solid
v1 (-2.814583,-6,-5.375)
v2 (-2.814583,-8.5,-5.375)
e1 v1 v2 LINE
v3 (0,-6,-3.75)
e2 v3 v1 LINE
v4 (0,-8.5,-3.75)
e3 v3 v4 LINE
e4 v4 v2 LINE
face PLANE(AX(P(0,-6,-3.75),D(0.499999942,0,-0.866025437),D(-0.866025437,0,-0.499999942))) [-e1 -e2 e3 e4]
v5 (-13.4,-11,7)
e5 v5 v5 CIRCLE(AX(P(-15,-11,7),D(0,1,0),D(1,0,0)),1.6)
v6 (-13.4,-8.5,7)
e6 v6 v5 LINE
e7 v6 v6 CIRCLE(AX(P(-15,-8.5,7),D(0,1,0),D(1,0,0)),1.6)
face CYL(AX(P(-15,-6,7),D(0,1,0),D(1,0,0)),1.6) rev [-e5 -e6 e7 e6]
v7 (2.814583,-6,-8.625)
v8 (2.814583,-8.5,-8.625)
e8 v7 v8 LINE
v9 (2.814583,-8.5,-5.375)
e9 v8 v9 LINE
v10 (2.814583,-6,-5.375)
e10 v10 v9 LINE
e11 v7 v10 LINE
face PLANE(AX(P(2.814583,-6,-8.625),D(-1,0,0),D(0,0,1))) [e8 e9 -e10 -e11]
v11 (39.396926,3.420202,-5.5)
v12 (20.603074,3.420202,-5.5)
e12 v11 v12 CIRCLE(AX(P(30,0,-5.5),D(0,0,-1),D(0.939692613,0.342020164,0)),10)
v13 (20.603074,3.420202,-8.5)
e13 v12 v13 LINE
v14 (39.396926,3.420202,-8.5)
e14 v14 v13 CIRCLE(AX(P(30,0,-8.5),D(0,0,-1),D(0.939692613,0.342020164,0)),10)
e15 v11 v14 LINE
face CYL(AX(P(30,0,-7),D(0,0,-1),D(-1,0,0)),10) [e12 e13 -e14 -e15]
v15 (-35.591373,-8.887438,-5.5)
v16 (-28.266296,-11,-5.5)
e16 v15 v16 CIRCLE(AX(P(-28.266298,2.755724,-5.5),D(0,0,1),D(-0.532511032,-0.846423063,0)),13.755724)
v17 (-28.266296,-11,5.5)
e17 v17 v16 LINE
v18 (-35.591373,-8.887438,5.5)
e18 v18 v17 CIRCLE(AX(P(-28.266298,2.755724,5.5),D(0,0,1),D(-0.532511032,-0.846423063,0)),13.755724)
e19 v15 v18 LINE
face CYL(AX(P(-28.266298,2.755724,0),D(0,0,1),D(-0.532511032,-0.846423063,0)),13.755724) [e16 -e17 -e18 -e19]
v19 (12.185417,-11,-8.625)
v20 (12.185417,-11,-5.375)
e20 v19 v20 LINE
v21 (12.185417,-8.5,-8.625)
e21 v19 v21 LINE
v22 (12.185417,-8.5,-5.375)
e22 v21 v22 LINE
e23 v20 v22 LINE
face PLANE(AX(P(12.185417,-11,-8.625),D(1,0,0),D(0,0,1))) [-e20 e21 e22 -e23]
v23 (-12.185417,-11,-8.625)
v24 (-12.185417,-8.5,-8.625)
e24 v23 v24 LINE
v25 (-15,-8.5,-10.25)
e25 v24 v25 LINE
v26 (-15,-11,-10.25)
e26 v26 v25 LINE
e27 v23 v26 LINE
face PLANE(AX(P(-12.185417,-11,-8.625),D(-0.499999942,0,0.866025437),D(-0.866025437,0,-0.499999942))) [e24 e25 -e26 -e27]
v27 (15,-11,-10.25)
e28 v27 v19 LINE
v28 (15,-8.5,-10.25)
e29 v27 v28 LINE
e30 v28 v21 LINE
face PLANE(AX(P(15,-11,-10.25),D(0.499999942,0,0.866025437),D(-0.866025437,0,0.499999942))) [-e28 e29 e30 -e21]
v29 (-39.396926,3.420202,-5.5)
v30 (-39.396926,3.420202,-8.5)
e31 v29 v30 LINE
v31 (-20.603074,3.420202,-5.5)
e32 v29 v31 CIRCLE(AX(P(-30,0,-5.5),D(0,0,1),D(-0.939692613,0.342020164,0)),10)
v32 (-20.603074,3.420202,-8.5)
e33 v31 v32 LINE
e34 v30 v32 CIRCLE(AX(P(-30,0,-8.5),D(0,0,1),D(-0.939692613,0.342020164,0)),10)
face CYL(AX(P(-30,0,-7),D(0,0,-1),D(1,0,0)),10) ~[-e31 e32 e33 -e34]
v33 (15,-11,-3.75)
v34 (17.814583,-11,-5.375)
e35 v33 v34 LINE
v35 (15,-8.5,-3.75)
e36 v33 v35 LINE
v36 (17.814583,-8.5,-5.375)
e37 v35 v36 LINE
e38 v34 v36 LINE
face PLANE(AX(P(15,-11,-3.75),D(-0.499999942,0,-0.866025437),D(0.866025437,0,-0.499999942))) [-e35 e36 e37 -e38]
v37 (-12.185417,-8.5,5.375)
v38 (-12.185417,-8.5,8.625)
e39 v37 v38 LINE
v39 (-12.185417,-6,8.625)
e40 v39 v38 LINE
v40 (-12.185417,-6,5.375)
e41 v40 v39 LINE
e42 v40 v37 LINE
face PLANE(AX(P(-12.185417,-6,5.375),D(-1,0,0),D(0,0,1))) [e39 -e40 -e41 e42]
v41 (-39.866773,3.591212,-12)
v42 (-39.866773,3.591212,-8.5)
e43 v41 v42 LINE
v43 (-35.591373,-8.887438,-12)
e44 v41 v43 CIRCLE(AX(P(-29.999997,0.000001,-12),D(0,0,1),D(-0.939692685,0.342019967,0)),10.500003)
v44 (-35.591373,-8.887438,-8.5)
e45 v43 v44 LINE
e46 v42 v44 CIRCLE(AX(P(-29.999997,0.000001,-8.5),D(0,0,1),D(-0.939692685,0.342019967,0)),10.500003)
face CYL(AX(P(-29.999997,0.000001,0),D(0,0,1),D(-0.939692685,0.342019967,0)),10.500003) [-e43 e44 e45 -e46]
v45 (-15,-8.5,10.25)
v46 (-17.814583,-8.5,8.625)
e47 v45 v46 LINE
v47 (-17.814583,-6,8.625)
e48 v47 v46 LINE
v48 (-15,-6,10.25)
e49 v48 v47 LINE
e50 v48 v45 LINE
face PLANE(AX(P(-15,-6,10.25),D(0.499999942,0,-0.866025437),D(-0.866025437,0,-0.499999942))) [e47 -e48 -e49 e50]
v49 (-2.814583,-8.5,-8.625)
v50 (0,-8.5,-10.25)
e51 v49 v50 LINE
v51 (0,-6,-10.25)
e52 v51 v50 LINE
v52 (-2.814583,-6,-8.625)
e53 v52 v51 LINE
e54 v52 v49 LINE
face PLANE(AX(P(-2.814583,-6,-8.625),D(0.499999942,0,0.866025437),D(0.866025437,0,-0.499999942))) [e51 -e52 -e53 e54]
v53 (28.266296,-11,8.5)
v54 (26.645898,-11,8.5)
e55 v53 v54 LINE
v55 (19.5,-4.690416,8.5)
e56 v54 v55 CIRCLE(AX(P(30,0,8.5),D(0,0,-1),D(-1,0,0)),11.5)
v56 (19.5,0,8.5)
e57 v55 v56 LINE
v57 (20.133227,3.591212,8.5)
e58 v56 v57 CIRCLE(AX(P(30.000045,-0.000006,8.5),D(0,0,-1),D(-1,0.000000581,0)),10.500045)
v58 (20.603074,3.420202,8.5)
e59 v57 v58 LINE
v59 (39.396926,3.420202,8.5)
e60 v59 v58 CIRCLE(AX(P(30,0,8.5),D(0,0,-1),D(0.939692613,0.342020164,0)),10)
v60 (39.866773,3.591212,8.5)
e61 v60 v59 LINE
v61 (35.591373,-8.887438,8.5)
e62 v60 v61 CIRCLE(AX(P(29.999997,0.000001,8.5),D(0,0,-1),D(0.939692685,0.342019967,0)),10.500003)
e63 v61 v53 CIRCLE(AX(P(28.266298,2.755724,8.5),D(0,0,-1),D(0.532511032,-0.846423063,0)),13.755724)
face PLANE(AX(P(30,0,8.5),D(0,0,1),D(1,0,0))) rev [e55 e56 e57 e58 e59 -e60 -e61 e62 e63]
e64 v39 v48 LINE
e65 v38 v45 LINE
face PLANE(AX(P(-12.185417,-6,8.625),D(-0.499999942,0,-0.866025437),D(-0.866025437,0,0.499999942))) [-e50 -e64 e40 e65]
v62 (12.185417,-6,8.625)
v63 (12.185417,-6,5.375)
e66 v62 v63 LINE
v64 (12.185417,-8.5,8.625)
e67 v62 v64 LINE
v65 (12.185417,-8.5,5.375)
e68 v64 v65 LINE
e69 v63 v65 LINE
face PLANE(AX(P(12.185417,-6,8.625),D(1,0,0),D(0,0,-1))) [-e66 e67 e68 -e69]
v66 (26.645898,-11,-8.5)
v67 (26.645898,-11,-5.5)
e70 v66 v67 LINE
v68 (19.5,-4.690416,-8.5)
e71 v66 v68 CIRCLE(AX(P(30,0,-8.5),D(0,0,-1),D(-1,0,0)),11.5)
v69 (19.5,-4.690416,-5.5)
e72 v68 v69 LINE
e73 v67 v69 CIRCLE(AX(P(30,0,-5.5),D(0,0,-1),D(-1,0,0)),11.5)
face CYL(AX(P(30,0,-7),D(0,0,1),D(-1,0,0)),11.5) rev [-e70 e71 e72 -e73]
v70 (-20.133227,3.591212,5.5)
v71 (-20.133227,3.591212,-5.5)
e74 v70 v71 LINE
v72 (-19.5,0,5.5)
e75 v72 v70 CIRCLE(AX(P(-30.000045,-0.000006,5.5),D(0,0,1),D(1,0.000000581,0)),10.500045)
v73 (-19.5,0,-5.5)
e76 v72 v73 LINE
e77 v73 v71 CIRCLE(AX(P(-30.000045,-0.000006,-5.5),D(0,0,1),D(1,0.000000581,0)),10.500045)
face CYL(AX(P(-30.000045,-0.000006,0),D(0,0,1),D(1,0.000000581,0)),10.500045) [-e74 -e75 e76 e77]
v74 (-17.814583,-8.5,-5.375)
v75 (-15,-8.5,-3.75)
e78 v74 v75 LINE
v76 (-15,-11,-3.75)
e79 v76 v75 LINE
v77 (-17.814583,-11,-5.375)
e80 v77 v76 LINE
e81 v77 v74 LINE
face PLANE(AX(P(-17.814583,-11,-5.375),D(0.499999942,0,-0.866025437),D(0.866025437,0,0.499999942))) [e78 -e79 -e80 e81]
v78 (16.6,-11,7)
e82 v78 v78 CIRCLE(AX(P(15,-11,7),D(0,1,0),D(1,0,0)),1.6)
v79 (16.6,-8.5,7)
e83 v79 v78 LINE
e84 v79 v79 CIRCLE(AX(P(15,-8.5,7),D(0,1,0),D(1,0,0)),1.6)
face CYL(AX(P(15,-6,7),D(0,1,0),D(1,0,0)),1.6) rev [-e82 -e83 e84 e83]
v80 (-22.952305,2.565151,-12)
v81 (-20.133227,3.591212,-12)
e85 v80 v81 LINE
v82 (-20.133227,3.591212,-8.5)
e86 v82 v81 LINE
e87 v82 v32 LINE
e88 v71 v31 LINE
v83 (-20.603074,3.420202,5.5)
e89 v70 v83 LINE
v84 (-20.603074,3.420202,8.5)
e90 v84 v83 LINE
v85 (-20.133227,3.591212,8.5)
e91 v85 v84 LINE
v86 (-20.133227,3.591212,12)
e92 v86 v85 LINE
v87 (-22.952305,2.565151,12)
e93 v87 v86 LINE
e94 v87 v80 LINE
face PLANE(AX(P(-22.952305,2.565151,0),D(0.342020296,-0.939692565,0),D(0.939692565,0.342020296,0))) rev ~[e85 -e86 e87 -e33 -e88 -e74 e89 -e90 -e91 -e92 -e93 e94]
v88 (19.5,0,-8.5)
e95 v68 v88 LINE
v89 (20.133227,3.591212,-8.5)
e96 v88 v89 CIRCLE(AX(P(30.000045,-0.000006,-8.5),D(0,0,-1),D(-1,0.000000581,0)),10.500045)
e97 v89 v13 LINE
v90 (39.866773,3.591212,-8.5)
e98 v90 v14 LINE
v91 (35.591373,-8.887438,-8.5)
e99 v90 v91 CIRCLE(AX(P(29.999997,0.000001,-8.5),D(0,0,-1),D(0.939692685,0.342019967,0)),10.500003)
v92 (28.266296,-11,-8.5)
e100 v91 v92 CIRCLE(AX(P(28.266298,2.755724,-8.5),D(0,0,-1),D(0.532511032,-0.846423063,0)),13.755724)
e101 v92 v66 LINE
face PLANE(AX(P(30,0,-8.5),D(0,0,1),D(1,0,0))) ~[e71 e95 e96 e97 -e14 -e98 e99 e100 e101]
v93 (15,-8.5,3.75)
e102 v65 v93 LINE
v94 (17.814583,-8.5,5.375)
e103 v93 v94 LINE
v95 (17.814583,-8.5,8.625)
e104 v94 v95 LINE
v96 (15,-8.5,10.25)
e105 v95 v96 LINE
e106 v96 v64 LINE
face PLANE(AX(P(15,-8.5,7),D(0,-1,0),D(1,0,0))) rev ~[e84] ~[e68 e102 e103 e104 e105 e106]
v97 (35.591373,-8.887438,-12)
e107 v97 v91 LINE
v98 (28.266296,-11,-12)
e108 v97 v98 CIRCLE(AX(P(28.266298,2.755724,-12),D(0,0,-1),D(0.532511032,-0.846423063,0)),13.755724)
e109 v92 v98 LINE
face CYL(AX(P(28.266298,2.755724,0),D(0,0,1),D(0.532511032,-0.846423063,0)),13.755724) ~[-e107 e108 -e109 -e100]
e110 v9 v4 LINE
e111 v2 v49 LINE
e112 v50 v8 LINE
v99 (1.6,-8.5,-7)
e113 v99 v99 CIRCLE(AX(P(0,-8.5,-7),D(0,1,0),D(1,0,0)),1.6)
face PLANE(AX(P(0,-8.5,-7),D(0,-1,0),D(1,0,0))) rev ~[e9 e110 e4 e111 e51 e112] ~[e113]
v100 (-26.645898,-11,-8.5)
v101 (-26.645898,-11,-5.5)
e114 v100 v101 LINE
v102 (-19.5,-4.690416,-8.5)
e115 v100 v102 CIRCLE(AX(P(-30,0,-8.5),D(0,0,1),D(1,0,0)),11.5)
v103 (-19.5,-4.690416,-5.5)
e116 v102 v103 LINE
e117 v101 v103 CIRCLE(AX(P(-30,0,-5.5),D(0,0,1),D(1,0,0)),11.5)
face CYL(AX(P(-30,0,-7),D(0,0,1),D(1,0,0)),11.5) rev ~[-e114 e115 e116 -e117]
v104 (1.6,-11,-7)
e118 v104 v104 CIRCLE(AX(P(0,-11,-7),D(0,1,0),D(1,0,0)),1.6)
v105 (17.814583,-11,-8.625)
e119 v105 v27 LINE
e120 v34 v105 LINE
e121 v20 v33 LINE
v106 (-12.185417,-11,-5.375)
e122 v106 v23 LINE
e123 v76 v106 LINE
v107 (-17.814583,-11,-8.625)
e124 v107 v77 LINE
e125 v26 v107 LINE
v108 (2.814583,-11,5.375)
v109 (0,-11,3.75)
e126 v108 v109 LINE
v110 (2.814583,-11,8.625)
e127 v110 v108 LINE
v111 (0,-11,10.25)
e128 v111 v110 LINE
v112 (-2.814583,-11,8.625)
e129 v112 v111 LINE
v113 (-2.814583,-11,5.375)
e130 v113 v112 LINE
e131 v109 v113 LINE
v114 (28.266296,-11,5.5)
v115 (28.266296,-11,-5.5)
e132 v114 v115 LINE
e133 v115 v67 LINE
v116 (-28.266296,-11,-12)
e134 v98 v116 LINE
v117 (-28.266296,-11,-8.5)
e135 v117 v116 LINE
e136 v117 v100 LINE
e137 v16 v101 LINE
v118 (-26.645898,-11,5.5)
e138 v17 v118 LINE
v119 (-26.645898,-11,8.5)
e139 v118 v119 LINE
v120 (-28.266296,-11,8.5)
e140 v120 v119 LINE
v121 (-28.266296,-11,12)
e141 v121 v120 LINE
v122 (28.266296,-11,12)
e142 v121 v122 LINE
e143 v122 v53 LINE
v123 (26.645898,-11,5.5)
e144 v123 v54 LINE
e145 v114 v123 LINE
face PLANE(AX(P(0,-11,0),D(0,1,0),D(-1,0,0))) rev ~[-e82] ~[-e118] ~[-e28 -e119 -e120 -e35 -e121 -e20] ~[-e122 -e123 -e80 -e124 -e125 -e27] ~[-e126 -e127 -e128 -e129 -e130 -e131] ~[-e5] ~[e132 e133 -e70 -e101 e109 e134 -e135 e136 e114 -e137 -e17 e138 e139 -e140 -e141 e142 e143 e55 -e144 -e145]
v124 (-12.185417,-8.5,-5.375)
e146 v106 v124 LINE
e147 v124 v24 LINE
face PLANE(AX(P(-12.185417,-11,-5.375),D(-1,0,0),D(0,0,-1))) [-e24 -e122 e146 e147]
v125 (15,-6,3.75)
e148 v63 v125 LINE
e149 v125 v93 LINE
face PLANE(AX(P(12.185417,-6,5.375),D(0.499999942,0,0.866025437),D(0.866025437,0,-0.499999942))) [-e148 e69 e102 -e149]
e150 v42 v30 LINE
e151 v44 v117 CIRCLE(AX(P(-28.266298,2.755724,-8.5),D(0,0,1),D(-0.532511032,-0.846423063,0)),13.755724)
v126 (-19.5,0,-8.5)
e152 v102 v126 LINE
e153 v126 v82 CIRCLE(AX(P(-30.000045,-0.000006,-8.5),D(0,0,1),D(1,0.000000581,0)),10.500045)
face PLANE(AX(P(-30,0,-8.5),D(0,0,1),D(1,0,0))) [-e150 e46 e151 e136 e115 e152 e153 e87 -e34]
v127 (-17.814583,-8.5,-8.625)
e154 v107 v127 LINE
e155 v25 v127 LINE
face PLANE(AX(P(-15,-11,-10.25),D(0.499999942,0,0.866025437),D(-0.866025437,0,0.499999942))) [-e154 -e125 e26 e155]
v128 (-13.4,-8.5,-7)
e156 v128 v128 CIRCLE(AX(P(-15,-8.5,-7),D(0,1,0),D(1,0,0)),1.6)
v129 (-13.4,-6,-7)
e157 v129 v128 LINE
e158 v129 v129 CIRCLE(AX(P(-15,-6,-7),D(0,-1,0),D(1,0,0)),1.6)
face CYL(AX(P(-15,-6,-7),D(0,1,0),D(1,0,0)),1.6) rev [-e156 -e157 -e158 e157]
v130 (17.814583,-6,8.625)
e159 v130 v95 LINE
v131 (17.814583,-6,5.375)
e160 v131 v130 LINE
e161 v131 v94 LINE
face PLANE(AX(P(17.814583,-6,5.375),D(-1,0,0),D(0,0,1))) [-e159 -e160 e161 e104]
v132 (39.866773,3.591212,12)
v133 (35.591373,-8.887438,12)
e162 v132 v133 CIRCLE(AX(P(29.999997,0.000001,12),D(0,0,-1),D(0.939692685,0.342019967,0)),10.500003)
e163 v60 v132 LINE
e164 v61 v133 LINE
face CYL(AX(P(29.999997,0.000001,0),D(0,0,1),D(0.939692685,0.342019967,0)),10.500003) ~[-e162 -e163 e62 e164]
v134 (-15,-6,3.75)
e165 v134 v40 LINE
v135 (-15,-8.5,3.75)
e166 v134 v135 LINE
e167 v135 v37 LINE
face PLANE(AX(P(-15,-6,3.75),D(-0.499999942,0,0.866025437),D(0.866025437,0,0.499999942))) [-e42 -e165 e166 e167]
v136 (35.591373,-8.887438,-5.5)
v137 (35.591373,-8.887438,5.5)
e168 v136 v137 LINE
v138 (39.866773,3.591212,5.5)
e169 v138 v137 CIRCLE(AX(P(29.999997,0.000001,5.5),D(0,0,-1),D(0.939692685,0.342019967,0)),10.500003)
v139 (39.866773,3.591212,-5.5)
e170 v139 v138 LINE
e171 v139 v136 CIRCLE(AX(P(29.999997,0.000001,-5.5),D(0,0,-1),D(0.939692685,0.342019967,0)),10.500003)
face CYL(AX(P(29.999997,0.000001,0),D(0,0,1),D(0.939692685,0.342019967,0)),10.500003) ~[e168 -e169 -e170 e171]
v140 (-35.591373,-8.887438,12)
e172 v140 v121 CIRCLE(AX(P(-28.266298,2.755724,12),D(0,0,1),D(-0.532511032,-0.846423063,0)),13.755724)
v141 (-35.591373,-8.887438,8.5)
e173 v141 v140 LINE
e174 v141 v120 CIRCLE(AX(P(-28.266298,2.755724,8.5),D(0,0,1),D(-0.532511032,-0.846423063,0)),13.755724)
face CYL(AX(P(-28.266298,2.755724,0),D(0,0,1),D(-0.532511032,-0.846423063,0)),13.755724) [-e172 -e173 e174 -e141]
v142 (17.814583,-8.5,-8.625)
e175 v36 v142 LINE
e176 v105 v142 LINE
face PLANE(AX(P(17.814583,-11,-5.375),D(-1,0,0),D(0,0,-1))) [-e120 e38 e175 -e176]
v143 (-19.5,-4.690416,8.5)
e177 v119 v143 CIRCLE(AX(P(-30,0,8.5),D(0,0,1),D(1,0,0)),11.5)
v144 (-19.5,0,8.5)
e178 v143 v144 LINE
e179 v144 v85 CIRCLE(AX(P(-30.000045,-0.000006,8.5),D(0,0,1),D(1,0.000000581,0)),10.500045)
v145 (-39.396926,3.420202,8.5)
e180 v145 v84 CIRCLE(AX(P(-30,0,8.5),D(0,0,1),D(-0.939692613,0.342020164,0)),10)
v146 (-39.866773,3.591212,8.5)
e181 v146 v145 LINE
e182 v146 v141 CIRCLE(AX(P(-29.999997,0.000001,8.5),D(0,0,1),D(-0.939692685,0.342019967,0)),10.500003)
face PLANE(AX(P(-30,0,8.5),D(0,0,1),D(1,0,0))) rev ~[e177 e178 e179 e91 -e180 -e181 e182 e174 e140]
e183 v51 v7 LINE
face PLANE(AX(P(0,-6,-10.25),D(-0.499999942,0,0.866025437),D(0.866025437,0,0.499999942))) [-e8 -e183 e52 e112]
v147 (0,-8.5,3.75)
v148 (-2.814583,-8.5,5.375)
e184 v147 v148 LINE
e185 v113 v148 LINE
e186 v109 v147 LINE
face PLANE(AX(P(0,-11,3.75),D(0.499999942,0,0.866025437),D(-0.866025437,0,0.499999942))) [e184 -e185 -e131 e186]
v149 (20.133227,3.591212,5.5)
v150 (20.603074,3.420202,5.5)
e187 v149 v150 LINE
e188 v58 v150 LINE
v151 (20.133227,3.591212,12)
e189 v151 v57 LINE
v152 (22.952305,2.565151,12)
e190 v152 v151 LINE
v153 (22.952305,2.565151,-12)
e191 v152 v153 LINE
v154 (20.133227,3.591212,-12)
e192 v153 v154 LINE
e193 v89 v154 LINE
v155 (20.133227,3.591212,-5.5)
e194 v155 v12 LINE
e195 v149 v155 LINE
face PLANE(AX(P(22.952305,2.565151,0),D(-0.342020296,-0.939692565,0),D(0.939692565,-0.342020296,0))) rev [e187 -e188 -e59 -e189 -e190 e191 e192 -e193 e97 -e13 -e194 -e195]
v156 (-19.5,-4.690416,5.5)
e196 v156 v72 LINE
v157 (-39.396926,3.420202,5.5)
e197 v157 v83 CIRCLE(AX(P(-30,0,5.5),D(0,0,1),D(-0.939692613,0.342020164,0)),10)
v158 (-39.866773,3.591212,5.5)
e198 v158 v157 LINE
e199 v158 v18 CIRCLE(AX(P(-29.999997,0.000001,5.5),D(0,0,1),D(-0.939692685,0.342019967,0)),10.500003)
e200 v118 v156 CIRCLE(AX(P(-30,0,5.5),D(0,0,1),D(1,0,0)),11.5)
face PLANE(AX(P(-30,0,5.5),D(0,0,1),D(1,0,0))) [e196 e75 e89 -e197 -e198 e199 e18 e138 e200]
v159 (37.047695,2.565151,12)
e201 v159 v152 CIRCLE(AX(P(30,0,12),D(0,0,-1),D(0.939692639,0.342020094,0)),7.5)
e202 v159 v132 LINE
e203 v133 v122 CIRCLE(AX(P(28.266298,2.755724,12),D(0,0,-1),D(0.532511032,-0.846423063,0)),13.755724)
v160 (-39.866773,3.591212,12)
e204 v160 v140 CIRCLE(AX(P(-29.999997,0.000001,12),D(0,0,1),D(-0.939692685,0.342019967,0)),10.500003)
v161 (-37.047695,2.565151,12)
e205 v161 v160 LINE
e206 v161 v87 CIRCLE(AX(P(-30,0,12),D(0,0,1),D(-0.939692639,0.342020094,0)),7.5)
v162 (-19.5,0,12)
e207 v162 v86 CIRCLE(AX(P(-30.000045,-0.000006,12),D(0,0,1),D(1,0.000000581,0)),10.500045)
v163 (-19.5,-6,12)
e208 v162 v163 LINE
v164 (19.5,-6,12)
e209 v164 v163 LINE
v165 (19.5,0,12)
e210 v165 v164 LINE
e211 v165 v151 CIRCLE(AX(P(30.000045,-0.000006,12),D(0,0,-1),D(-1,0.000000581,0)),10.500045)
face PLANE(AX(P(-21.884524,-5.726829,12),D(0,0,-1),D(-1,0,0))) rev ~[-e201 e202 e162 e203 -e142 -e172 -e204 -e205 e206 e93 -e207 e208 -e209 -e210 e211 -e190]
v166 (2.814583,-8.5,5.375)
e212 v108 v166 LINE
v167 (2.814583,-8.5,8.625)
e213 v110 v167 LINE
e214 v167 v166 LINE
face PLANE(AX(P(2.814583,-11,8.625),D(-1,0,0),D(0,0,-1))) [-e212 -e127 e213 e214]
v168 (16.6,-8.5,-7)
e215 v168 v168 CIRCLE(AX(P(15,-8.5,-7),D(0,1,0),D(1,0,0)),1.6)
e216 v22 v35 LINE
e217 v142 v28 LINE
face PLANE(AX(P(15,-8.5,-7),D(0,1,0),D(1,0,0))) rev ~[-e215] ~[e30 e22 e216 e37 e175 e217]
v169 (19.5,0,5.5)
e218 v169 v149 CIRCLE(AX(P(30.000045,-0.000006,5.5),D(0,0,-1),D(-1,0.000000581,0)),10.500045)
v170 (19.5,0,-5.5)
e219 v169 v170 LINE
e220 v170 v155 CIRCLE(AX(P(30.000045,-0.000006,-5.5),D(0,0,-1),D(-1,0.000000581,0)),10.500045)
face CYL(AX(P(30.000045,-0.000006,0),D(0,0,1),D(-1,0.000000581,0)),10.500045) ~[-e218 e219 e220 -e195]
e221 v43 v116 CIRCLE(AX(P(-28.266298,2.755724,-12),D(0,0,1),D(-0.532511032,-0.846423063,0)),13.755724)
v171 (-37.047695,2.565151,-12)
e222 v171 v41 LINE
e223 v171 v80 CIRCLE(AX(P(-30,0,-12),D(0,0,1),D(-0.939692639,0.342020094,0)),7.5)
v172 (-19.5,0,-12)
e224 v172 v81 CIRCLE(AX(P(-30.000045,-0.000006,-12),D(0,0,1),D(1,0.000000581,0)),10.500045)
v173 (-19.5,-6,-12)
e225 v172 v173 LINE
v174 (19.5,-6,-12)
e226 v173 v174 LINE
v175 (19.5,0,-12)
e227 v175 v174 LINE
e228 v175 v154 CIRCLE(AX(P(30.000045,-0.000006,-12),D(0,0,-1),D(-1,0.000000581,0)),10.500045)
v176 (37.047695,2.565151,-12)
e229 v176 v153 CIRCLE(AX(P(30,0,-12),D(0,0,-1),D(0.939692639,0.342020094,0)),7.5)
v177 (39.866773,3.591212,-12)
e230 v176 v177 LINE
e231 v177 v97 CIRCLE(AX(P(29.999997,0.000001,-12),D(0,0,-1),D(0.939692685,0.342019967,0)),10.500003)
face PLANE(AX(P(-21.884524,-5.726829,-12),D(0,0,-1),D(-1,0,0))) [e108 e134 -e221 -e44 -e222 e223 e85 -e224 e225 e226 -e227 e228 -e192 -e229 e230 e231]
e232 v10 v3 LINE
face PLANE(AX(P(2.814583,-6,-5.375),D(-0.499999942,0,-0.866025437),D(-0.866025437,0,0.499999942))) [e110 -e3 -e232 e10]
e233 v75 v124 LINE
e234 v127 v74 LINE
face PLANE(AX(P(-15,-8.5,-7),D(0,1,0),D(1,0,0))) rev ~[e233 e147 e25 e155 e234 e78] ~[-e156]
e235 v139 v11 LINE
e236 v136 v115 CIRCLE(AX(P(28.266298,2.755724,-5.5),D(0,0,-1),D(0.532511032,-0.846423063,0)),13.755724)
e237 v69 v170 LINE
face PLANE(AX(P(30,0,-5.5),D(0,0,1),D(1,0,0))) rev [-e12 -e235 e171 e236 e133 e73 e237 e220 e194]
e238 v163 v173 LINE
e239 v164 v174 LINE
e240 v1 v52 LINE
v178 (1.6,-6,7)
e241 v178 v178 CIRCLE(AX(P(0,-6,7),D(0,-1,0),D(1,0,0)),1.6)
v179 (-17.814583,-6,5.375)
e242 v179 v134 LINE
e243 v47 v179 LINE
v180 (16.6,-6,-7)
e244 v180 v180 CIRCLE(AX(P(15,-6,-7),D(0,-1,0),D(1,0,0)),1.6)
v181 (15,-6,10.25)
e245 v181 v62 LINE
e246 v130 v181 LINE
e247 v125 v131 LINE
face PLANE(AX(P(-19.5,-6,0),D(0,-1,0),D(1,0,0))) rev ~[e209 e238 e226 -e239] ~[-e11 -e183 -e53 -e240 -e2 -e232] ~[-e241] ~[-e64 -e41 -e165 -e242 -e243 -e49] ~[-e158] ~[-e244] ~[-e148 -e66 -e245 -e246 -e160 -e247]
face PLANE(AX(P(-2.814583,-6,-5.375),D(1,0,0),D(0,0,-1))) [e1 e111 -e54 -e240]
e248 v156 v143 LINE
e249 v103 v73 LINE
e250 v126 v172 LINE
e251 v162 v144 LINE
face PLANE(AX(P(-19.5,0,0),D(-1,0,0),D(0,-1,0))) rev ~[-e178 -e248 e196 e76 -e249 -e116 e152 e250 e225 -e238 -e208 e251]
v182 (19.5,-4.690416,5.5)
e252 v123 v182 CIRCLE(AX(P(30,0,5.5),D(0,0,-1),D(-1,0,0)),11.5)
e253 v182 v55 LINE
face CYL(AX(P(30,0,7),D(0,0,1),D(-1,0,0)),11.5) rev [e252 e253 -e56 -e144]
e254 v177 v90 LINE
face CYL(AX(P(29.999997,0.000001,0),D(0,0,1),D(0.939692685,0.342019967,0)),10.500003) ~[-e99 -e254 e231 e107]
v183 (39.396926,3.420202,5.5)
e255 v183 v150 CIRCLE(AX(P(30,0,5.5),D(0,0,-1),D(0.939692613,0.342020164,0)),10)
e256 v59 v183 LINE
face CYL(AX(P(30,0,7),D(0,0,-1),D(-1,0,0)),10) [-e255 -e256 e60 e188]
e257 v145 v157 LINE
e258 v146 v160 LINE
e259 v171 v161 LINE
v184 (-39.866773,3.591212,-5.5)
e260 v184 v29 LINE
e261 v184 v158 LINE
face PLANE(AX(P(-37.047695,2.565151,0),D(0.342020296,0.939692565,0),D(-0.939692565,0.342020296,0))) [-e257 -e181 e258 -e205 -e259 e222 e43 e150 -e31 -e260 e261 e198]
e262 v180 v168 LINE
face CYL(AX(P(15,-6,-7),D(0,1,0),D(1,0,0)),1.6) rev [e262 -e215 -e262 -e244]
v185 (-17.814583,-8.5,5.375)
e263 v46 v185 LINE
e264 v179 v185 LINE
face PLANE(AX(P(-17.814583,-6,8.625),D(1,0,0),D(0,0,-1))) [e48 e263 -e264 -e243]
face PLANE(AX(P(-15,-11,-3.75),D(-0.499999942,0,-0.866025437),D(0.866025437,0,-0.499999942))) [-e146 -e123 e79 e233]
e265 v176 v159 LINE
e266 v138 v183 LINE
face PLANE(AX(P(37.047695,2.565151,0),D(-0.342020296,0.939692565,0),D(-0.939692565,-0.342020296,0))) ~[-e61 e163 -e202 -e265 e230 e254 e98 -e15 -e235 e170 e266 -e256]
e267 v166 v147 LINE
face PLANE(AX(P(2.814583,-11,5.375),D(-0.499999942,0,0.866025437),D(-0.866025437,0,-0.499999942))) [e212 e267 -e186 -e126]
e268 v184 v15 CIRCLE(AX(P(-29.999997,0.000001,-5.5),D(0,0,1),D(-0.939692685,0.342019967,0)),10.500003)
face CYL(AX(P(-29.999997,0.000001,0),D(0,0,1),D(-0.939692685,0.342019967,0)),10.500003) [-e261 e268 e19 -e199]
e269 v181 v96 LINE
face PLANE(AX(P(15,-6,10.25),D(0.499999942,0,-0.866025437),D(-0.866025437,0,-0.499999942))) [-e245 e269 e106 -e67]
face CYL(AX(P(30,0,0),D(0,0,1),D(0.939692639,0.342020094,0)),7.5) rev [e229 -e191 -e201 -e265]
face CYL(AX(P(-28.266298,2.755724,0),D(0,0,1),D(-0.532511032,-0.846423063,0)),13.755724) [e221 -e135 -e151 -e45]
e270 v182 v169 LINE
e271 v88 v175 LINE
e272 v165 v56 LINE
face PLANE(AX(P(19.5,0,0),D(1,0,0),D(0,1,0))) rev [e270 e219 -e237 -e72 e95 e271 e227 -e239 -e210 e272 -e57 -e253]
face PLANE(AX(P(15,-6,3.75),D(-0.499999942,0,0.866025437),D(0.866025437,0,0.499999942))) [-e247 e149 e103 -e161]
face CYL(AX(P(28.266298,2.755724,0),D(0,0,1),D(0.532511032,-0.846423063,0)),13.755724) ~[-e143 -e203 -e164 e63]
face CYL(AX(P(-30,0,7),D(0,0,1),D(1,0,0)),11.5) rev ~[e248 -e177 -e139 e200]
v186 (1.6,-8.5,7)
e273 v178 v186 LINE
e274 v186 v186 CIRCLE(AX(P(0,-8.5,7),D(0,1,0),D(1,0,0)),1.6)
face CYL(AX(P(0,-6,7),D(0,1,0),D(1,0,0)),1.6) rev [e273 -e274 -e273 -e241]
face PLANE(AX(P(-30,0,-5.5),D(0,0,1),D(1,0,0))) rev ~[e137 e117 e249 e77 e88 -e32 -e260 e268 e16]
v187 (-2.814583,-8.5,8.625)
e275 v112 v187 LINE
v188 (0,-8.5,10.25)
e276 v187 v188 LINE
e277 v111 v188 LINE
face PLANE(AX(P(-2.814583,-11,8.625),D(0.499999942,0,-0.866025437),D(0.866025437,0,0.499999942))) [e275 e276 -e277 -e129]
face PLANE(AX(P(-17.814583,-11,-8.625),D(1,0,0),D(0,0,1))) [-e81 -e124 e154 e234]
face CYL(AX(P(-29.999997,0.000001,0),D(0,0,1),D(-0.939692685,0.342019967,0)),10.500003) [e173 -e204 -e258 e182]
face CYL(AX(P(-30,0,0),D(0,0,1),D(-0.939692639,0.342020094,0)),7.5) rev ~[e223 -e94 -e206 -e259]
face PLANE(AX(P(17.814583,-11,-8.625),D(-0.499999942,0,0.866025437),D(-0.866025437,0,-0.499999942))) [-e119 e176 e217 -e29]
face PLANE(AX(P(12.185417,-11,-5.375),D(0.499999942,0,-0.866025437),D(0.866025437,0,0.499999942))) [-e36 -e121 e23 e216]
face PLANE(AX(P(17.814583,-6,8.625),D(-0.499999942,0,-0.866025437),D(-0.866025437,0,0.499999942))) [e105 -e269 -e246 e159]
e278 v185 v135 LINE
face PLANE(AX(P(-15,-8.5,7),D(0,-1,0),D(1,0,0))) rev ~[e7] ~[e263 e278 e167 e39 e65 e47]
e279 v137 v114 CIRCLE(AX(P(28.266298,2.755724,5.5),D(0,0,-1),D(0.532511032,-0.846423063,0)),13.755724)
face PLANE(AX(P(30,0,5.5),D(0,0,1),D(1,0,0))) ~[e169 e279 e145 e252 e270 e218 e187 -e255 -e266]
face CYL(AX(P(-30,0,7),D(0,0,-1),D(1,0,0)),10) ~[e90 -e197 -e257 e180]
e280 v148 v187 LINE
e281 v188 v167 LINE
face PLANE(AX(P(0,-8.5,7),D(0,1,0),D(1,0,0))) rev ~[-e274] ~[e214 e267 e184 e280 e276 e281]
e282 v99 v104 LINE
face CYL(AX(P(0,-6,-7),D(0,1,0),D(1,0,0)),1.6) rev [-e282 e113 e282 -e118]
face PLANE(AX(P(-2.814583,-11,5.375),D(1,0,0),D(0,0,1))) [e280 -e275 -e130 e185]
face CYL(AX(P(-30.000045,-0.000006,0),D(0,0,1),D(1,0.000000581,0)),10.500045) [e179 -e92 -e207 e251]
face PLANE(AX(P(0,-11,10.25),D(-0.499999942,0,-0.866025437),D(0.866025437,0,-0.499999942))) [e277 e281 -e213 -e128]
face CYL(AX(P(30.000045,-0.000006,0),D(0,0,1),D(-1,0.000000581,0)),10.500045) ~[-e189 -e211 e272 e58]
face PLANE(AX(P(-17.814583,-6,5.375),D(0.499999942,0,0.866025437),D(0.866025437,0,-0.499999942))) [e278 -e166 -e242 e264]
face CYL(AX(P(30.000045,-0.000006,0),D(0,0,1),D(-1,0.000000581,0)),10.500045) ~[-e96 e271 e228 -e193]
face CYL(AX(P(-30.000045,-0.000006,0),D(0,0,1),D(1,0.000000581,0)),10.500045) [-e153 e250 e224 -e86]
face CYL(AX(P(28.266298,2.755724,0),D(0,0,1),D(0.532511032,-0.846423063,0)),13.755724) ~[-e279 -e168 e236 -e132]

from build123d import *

# Parameters (mm, degrees)
SKETCH002_R      = 1.6
PAD002_DEPTH     = 10
PAD001_DEPTH     = 2.5
CLONE_ROLL_ANGLE = 180
SKETCH003_R      = 11.5
SKETCH003_R_2    = 10
PAD003_DEPTH     = 1.5
PAD_DEPTH        = 12


with BuildPart() as pad002:
    # Sketch002 → Pad002 (new body)
    with BuildSketch(Plane.XZ.offset(6)):
        with Locations((-15, 7)):
            Circle(SKETCH002_R)
        with Locations((0, -7)):
            Circle(SKETCH002_R)
        with Locations((15, 7)):
            Circle(SKETCH002_R)
        with Locations((-15, -7)):
            Circle(SKETCH002_R)
        with Locations((0, 7)):
            Circle(SKETCH002_R)
        with Locations((15, -7)):
            Circle(SKETCH002_R)
    extrude(amount=PAD002_DEPTH)


with BuildPart() as pad001:
    # Sketch001 → Pad001 (new body)
    with BuildSketch(Plane.XZ.offset(6)):
        Polygon((-12.185417, 5.375), (-12.185417, 8.625), (-15, 10.25), (-17.814583, 8.625), (-17.814583, 5.375), (-15, 3.75), align=None)
        Polygon((2.814583, -8.625), (2.814583, -5.375), (0, -3.75), (-2.814583, -5.375), (-2.814583, -8.625), (0, -10.25), align=None)
        Polygon((17.814583, 5.375), (17.814583, 8.625), (15, 10.25), (12.185417, 8.625), (12.185417, 5.375), (15, 3.75), align=None)
    extrude(amount=PAD001_DEPTH)


with BuildPart() as fusion:
    # Clone base: copy of Pad001
    add(pad001.part)


with BuildPart() as fusion_1:
    # Clone roll: moved
    add(fusion.part.rotate(Axis((0, 0, 0), (1, 0, 0)), CLONE_ROLL_ANGLE))


with BuildPart() as fusion_2:
    # Clone placement: moved
    add(fusion_1.part.moved(Location((0, -17, 0))))

    # Fusion: union Pad002, Pad001
    add(pad002.part)
    add(pad001.part)


with BuildPart() as pad003:
    # Sketch003 → Pad003 (new body, symmetric)
    with BuildSketch(Plane.XY):
        with Locations((-30, 0)):
            Circle(SKETCH003_R)
        with Locations((-30, 0)):
            Circle(SKETCH003_R_2, mode=Mode.SUBTRACT)
    extrude(amount=PAD003_DEPTH, both=True)


with BuildPart() as clone_of_pad003:
    # Clone002 base: copy of Pad003
    add(pad003.part)


with BuildPart() as clone_of_pad003_1:
    # Clone002 placement: moved
    add(clone_of_pad003.part.moved(Location((0, 0, -7))))


with BuildPart() as fusion002:
    # Clone001 base: copy of Pad003
    add(pad003.part)


with BuildPart() as fusion002_1:
    # Clone001 placement: moved
    add(fusion002.part.moved(Location((0, 0, 7))))

    # Fusion002: union Clone of Pad003
    add(clone_of_pad003_1.part)


with BuildPart() as cut:
    # Sketch → Pad (new body, symmetric)
    with BuildSketch(Plane.XY):
        with BuildLine():
            ThreePointArc((-37.047695, 2.565151), (-30, -7.5), (-22.952305, 2.565151))
            Line((-22.952305, 2.565151), (-20.133227, 3.591212))
            ThreePointArc((-19.5, 0), (-19.659519, 1.823306), (-20.133227, 3.591212))
            Line((-19.5, 0), (-19.5, -6))
            Line((-19.5, -6), (0, -6))
            Line((0, -6), (0, -11))
            Line((0, -11), (-28.266296, -11))
            ThreePointArc((-35.591373, -8.887438), (-32.078109, -10.461312), (-28.266296, -11))
            ThreePointArc((-39.866773, 3.591212), (-39.933163, -3.403273), (-35.591373, -8.887438))
            Line((-37.047695, 2.565151), (-39.866773, 3.591212))
        make_face()
    extrude(amount=PAD_DEPTH, both=True)

    # Cut: cut Fusion002
    add(fusion002_1.part, mode=Mode.SUBTRACT)


with BuildPart() as cut001:
    # Part__Mirroring: instance of Cut
    add(cut.part.mirror(Plane(origin=(0, 0, 0), x_dir=(0, -1, 0), z_dir=(1, 0, 0))))

    # Fusion003: union Cut
    add(cut.part)

    # Cut001: cut Fusion
    add(fusion_2.part, mode=Mode.SUBTRACT)


solid = cut001.part
